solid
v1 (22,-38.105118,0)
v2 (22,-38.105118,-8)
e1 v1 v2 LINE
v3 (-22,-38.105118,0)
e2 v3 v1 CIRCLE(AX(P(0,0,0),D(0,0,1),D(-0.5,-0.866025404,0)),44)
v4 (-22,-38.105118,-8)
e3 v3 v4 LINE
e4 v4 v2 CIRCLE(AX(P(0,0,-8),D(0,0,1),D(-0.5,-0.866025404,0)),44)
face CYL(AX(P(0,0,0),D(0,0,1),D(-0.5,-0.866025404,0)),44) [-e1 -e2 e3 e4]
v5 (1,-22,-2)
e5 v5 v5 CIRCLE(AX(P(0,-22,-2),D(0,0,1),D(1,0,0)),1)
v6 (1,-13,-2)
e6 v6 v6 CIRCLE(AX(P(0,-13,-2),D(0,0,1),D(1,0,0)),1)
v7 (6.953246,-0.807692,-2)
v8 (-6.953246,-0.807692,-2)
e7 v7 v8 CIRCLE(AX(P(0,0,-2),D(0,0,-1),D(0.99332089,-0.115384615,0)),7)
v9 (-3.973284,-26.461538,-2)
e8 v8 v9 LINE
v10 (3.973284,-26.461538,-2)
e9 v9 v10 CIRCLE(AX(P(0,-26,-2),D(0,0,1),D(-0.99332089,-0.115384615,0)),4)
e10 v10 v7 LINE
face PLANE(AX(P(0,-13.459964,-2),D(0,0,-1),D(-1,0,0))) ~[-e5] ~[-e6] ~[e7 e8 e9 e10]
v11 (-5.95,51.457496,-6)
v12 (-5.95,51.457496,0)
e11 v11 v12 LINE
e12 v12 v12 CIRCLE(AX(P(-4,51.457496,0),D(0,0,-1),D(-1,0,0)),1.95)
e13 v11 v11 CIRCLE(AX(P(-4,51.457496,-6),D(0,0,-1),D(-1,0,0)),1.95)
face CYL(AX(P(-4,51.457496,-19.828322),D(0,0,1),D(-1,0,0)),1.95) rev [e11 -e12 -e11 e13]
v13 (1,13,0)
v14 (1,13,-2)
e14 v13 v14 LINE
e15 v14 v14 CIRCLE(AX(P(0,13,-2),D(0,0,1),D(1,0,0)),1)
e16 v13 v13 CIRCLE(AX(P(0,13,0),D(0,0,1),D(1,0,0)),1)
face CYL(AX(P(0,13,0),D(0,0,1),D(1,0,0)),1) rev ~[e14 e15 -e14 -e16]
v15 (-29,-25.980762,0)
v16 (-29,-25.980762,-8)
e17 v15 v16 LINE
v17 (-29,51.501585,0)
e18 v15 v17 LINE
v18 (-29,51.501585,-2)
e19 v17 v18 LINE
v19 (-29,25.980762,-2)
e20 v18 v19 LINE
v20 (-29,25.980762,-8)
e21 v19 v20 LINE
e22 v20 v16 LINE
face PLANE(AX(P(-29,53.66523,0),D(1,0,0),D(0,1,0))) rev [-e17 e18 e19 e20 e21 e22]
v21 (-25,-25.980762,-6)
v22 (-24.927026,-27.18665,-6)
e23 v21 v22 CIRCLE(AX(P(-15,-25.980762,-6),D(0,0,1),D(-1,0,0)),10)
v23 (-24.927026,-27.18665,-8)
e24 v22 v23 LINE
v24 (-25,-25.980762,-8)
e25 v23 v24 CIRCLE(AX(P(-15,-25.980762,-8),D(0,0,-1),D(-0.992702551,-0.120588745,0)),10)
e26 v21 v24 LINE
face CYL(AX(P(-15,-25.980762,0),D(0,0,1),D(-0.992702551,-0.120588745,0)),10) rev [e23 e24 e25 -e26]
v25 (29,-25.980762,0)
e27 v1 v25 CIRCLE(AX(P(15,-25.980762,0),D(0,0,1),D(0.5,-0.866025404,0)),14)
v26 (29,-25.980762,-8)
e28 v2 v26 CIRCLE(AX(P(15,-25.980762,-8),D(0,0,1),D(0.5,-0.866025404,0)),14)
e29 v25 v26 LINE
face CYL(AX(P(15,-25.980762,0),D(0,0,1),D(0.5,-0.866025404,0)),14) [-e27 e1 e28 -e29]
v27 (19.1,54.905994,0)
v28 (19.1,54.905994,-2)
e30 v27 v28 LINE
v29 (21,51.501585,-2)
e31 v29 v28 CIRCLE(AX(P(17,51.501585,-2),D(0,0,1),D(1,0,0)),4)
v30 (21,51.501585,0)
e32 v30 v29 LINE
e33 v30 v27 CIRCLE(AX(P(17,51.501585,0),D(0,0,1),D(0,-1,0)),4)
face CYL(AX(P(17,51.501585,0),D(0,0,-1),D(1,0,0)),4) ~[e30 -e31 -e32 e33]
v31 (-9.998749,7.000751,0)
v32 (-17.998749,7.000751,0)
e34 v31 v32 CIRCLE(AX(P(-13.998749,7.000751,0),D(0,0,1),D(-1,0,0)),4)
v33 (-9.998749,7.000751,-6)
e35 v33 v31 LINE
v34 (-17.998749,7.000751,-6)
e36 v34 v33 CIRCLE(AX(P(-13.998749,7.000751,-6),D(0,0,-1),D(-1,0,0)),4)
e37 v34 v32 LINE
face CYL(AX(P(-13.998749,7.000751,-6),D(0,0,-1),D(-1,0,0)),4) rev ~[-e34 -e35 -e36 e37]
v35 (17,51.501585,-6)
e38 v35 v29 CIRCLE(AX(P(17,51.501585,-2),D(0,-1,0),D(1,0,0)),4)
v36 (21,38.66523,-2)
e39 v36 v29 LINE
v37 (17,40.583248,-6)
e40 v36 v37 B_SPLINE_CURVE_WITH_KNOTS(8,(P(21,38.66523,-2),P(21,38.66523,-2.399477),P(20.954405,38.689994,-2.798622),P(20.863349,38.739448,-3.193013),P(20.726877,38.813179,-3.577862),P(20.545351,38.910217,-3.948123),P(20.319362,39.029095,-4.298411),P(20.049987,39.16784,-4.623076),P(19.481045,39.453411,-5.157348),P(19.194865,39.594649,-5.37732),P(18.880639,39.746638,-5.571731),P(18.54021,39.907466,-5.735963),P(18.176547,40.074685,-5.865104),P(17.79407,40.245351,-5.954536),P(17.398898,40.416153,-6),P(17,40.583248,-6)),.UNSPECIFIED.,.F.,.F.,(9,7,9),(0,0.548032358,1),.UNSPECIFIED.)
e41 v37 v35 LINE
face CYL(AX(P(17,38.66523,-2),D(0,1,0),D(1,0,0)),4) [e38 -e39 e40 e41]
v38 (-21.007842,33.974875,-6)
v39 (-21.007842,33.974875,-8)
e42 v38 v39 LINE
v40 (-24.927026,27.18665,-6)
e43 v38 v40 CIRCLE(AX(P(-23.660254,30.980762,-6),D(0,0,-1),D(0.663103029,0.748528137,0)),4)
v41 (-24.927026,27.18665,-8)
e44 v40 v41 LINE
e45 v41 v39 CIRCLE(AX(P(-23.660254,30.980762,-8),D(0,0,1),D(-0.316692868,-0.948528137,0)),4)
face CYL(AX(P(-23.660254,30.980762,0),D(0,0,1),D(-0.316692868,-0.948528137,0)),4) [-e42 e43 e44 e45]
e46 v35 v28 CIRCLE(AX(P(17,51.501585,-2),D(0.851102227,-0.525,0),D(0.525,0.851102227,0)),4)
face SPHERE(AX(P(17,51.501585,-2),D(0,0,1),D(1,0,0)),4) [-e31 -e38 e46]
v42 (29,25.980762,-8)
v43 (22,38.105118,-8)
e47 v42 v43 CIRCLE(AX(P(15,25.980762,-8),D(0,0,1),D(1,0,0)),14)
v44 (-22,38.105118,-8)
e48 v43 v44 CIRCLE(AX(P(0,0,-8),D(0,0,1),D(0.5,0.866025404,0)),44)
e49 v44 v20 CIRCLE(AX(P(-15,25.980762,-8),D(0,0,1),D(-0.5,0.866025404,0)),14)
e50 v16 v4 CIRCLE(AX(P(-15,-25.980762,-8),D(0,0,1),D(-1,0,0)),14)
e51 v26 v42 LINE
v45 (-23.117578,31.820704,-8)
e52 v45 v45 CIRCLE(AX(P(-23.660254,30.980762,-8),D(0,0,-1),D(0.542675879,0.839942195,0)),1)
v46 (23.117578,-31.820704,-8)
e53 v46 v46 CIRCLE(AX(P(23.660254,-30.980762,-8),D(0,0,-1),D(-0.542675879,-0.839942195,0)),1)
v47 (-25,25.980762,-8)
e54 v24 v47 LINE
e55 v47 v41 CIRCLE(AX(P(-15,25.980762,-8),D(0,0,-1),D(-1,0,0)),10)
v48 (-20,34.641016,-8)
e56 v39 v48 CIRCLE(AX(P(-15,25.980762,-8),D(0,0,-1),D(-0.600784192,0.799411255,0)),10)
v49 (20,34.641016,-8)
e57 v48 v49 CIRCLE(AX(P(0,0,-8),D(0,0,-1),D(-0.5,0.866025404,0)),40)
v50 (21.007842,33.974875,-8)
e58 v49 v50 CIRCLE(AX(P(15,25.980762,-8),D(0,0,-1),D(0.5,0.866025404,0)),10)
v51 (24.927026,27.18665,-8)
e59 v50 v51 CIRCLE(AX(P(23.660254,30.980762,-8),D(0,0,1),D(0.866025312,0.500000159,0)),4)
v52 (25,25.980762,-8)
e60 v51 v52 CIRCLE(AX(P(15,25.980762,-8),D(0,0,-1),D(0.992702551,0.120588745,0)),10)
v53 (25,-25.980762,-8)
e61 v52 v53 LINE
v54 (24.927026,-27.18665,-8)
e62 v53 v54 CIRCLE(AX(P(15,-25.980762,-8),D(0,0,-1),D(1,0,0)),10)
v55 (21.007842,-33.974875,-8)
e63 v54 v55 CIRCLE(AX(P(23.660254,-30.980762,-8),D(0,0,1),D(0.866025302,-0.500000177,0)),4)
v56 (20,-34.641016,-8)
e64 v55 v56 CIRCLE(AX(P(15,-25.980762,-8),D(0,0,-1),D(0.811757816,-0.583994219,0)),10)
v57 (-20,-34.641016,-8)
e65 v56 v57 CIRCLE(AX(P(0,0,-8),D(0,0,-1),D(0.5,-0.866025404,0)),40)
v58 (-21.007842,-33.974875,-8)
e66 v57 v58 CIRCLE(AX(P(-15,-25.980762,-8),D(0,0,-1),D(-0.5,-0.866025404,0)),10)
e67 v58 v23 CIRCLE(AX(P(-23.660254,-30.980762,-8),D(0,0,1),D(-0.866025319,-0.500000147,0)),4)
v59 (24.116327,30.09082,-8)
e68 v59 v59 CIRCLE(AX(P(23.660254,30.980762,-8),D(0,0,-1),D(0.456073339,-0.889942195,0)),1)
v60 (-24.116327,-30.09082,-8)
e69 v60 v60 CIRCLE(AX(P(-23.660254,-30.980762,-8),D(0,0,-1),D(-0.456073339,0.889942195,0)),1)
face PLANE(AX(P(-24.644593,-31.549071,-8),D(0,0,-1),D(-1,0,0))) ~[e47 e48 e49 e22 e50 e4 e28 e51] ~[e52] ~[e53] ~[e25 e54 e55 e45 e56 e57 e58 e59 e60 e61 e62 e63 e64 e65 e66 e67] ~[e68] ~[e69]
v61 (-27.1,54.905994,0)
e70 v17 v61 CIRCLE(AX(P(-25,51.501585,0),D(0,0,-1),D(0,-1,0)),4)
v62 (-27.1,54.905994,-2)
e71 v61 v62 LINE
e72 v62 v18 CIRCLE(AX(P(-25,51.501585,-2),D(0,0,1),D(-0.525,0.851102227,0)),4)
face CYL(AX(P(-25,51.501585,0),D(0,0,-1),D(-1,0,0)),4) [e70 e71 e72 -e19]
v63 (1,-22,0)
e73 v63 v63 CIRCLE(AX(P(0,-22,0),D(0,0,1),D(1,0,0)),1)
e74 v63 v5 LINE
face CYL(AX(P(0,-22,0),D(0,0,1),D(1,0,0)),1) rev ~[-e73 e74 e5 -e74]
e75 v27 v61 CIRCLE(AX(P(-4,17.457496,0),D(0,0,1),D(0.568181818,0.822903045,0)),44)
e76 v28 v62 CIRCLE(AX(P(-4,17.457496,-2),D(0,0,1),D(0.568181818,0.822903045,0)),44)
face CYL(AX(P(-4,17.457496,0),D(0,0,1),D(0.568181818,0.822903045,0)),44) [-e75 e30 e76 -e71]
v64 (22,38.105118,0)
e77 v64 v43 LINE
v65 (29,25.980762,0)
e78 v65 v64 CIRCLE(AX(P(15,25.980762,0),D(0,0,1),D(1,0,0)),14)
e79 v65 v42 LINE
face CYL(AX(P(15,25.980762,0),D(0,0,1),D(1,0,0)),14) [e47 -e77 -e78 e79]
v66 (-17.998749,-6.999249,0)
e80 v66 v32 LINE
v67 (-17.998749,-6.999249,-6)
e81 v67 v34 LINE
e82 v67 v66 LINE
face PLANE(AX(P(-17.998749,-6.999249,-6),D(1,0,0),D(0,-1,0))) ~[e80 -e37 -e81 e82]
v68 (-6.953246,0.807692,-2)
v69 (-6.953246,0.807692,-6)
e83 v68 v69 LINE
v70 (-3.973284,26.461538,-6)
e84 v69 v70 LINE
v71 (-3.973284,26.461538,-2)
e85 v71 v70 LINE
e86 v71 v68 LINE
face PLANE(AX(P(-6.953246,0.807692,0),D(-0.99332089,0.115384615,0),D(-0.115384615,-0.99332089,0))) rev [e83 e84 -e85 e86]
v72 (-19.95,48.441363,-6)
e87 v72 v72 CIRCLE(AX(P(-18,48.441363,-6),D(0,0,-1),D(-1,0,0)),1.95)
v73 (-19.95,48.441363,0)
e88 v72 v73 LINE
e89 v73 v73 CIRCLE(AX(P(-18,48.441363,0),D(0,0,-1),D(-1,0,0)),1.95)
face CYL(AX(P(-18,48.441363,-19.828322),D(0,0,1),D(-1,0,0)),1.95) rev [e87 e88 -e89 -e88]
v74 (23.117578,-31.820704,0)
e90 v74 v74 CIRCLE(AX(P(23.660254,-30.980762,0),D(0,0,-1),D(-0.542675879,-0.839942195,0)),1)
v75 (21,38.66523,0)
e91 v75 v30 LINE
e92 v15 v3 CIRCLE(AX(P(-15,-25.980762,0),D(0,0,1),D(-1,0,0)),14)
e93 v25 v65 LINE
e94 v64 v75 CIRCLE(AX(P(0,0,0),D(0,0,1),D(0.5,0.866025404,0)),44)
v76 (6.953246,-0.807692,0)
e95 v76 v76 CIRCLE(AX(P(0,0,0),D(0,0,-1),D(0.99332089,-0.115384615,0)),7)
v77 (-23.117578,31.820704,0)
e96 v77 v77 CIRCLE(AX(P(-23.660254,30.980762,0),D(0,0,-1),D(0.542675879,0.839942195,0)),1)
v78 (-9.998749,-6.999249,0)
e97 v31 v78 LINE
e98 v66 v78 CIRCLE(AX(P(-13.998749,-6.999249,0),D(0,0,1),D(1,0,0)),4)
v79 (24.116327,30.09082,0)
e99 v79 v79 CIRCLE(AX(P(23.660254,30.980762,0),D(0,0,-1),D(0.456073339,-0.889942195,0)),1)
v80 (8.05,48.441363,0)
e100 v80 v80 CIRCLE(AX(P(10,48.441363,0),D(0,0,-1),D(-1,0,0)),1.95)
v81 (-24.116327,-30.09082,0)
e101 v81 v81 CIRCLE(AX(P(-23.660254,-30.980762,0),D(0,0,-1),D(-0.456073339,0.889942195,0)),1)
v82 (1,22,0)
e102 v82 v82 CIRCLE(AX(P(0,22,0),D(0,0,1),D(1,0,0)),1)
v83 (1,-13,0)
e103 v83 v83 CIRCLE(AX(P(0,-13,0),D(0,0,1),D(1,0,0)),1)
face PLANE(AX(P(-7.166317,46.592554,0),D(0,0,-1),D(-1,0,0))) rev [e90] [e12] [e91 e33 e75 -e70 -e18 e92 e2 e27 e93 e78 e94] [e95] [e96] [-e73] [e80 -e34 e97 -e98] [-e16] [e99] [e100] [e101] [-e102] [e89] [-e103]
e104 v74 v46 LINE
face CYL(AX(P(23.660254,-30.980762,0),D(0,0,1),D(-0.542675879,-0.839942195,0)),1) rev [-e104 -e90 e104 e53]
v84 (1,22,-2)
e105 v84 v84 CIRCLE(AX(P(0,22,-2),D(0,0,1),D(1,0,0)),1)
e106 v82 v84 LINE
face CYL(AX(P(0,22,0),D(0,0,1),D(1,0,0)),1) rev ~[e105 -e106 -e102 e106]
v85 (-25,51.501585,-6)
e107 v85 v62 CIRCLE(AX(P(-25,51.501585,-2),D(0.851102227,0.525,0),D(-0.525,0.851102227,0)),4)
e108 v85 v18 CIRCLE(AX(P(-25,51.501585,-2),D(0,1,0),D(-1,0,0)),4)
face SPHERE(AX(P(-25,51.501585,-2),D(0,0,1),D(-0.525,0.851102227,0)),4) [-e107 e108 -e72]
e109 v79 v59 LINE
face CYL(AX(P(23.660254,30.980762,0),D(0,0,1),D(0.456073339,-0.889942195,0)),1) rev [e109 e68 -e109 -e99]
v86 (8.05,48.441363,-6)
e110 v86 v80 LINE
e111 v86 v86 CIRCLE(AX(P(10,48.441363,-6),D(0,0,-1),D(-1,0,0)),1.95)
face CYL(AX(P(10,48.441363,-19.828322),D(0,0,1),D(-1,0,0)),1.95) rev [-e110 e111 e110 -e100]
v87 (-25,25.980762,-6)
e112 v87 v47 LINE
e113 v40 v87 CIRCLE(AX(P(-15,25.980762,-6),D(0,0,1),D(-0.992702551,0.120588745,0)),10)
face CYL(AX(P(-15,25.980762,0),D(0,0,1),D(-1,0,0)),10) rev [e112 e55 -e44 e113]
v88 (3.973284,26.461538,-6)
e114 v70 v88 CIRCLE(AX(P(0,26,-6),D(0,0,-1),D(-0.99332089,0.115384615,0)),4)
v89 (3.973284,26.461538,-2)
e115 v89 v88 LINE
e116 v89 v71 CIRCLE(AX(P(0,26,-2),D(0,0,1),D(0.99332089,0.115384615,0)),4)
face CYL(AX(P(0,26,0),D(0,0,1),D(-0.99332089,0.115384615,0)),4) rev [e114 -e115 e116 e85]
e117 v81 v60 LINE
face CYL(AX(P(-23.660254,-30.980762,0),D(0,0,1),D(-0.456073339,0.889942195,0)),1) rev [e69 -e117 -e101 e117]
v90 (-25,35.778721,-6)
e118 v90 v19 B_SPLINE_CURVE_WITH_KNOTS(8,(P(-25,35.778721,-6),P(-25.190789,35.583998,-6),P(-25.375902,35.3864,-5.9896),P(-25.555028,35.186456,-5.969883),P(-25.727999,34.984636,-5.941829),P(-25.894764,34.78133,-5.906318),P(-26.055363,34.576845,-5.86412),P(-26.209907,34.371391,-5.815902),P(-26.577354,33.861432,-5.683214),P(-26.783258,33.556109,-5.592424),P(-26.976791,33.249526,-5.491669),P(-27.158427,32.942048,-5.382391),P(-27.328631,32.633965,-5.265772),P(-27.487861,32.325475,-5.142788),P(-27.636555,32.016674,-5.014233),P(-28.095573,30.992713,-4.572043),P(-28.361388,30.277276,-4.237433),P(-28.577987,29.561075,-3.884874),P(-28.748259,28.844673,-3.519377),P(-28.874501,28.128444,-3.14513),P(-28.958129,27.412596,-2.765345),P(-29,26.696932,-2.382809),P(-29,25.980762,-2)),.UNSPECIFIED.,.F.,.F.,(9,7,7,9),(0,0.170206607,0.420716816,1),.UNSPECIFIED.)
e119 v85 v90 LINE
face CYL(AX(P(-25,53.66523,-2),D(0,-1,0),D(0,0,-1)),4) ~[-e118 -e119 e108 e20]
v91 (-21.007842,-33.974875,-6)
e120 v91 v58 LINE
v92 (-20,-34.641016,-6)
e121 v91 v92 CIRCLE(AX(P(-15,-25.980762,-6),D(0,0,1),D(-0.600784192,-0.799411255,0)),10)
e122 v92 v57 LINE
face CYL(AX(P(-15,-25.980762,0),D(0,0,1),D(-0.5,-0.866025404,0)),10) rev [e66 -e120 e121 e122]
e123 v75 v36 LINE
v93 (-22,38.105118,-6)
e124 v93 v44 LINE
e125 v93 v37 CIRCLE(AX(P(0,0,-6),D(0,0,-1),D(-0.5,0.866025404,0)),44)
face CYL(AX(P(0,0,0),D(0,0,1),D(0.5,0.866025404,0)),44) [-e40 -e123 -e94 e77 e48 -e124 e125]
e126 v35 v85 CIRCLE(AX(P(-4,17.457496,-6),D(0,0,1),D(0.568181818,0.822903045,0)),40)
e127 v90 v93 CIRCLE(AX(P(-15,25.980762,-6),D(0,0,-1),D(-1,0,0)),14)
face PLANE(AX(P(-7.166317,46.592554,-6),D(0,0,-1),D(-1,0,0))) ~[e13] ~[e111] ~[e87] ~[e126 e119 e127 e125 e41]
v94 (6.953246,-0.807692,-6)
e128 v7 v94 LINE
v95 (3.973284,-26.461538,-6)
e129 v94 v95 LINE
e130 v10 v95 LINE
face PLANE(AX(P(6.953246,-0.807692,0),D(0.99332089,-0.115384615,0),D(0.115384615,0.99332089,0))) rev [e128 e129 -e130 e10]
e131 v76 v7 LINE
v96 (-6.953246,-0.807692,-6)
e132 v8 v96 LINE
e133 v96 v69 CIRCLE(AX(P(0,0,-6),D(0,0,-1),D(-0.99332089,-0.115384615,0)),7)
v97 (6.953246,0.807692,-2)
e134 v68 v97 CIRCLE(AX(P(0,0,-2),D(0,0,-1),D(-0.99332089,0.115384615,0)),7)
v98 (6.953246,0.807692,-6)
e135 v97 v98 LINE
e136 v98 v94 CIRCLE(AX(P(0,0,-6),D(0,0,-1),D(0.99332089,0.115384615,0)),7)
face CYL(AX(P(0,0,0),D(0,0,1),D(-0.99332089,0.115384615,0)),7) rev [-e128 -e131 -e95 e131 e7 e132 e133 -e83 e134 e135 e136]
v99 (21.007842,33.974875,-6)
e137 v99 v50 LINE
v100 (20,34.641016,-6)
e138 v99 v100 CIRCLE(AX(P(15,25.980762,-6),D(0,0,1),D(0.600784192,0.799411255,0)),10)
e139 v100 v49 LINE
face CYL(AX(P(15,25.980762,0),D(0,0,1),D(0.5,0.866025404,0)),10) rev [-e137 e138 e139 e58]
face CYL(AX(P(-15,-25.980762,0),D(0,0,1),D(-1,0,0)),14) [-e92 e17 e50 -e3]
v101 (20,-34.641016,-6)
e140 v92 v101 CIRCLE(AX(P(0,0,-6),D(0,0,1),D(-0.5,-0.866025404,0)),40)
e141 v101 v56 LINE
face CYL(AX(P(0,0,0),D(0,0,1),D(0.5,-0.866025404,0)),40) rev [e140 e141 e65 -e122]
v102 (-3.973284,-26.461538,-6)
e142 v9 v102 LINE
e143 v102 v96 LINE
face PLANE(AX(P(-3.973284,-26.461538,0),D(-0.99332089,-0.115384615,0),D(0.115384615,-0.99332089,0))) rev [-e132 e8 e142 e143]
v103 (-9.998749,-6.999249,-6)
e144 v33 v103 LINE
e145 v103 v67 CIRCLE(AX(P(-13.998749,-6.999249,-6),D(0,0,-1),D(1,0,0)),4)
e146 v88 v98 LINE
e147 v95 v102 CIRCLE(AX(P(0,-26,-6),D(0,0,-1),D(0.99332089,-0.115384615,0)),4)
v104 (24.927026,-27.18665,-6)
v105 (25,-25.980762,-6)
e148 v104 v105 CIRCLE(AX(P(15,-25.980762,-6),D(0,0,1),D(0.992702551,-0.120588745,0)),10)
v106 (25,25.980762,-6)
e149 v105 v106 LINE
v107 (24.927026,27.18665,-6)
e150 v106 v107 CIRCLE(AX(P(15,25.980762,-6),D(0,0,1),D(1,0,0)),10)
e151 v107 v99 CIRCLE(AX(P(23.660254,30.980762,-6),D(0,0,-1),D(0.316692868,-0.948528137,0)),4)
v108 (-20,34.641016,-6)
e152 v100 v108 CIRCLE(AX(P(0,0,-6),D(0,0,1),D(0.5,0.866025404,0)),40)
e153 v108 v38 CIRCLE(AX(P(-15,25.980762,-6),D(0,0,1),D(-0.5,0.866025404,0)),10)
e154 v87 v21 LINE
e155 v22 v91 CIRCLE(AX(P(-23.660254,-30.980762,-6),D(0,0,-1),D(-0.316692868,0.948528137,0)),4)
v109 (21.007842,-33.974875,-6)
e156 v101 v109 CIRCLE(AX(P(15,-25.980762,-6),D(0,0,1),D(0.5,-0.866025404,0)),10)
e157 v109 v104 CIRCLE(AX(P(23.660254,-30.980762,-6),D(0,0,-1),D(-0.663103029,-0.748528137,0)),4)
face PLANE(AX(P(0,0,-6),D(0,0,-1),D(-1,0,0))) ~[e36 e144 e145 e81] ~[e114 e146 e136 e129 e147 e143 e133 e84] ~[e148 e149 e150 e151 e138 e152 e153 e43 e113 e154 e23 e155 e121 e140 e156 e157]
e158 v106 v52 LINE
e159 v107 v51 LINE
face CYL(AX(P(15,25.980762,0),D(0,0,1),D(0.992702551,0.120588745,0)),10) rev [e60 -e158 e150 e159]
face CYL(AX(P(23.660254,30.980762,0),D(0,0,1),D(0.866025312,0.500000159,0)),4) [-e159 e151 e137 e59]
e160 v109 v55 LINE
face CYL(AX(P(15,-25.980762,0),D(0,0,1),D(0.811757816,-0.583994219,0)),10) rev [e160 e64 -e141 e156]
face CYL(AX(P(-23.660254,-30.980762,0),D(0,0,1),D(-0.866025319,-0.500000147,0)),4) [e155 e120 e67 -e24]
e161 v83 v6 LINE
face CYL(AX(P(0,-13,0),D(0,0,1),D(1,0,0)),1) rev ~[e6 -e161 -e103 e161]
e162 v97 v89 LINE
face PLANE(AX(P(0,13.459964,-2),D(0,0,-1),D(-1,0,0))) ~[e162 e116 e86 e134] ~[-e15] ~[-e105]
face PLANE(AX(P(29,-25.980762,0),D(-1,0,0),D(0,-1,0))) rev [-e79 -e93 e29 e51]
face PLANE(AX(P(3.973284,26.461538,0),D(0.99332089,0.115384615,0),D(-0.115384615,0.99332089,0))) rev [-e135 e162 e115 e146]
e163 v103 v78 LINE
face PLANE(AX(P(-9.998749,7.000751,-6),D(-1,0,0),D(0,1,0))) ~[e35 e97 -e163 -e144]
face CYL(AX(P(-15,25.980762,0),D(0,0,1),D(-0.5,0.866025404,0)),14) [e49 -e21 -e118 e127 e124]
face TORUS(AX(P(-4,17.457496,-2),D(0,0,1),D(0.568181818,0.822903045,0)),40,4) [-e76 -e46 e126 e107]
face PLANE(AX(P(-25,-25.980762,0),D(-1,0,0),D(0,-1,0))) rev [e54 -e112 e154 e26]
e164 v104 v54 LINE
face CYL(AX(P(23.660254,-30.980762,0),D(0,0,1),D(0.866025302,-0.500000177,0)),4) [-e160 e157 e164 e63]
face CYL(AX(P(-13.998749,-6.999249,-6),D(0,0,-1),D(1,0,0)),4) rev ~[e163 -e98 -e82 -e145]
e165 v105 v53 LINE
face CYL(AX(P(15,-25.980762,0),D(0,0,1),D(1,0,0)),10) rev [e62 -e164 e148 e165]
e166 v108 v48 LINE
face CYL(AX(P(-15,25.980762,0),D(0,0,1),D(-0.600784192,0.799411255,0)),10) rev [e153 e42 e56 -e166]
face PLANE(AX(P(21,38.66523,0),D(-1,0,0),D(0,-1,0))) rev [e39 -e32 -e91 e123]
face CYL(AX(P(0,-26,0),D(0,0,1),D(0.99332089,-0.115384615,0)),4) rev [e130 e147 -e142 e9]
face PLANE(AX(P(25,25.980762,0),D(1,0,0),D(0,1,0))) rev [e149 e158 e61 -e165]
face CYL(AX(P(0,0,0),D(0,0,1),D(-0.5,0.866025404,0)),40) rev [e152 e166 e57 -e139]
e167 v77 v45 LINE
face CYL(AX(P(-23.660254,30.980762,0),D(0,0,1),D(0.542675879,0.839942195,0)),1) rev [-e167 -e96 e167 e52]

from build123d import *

# Parameters (mm, degrees)
EXTRUDE_1_DEPTH         = 6
SKETCH_1_3_R            = 1.0000000000000007
SKETCH_1_3_R_2          = 1.0000000000000009
EXTRUDE_2_DEPTH         = 2
SKETCH_1_4_R            = 1.0000000000000024
SKETCH_1_4_R_2          = 1.0000000000000022
SKETCH_1_4_R_3          = 0.9999999999999966
SKETCH_1_4_R_4          = 1.0000000000000009
EXTRUDE_3_DEPTH         = 8
CUT_EXTRUDE_1_DEPTH     = 54.0377224247045
EXTRUDE_4_DEPTH         = 6
FILLET_2_R              = 4
HOLE_WIZARD_M3_51_D     = 3.9
HOLE_WIZARD_M3_51_DEPTH = 13.828321793
HOLE_WIZARD_M3_51_TIP   = 1.1716782071037426


with BuildPart() as part:
    # Эскиз1 → Бобышка-Вытянуть1 (new body)
    with BuildSketch(Plane.XY):
        with BuildLine():
            Line((25.000000000000007, -25.98076211353316), (25.000000000000007, 25.980762113533153))
            ThreePointArc((25.000000000000007, 25.980762113533153), (24.981739705342804, 26.584808845817278), (24.927025509043382, 27.186649563837758))
            ThreePointArc((24.927025509043485, 27.18664956383775), (20.196152422706675, 28.98076211353309), (21.007841920590277, 33.974874663228555))
            ThreePointArc((21.007841920590295, 33.97487466322859), (20.513989667902422, 34.32317890618177), (20.000000000000014, 34.64101615137754))
            ThreePointArc((20.000000000000014, 34.64101615137754), (0, 40.00000000000001), (-20.000000000000018, 34.64101615137754))
            ThreePointArc((-20.000000000000014, 34.64101615137754), (-20.513989667902425, 34.32317890618177), (-21.0078419205903, 33.97487466322859))
            ThreePointArc((-21.00784192059028, 33.97487466322856), (-20.01267617924998, 32.62246116192532), (-19.660254037844396, 30.98076211353315))
            ThreePointArc((-19.660254037844396, 30.98076211353315), (-21.322208474216062, 27.735220102959588), (-24.92702550904333, 27.186649563837697))
            ThreePointArc((-24.92702550904339, 27.186649563837694), (-24.981739705342804, 26.584808845817246), (-25.000000000000007, 25.980762113533153))
            Line((-25.000000000000007, 25.980762113533153), (-25.000000000000007, -25.98076211353316))
            ThreePointArc((-25.000000000000007, -25.98076211353316), (-24.981739705342804, -26.584808845817253), (-24.92702550904339, -27.1866495638377))
            ThreePointArc((-24.927025509043325, -27.186649563837705), (-21.322208474216055, -27.735220102959595), (-19.66025403784439, -30.980762113533157))
            ThreePointArc((-19.66025403784439, -30.980762113533157), (-20.012676179249972, -32.62246116192533), (-21.007841920590273, -33.97487466322856))
            ThreePointArc((-21.007841920590288, -33.9748746632286), (-20.51398966790242, -34.32317890618177), (-20.00000000000001, -34.64101615137754))
            ThreePointArc((-20.00000000000001, -34.64101615137754), (8.9e-16, -40), (20.000000000000014, -34.64101615137754))
            ThreePointArc((20.00000000000001, -34.64101615137754), (20.51398966790242, -34.32317890618177), (21.007841920590288, -33.9748746632286))
            ThreePointArc((21.007841920590277, -33.97487466322857), (20.19615242270667, -28.980762113533096), (24.92702550904349, -27.18664956383776))
            ThreePointArc((24.927025509043382, -27.186649563837765), (24.981739705342804, -26.584808845817285), (25.000000000000007, -25.98076211353316))
        make_face()
        with BuildLine():
            ThreePointArc((-6.953246230078051, -0.8076923076923074), (-6.9999999999999964, -8e-17), (-6.953246230078052, 0.8076923076923072))
            Line((-6.953246230078053, 0.8076923076923073), (-3.9732835600445995, 26.46153846153846))
            ThreePointArc((-3.9732835600445995, 26.46153846153846), (1.61e-15, 30), (3.973283560044602, 26.46153846153846))
            Line((3.973283560044602, 26.46153846153846), (6.9532462300780535, 0.8076923076923066))
            ThreePointArc((6.9532462300780535, 0.8076923076923077), (6.988301782641701, 0.4045221807599798), (6.999999999999997, 0))
            ThreePointArc((6.999999999999997, 0), (6.988301782641701, -0.40452218075998), (6.9532462300780535, -0.8076923076923077))
            Line((6.9532462300780535, -0.8076923076923066), (3.973283560044602, -26.46153846153846))
            ThreePointArc((3.973283560044602, -26.46153846153846), (7.8e-16, -29.999999999999996), (-3.9732835600445995, -26.46153846153846))
            Line((-3.9732835600445995, -26.46153846153846), (-6.953246230078053, -0.8076923076923073))
        make_face(mode=Mode.SUBTRACT)
    extrude(amount=EXTRUDE_1_DEPTH)

    # Эскиз1<3> → Бобышка-Вытянуть2 (add)
    # profile 1 of 2: a face of its own
    with BuildSketch(Plane.XY):
        with BuildLine():
            Line((-3.9732835600445995, 26.46153846153846), (-6.953246230078053, 0.8076923076923073))
            ThreePointArc((-6.953246230078054, 0.8076923076923096), (1.98e-15, 7.000000000000001), (6.953246230078055, 0.8076923076923079))
            Line((6.9532462300780535, 0.8076923076923066), (3.973283560044602, 26.46153846153846))
            ThreePointArc((3.973283560044602, 26.46153846153846), (1.61e-15, 30), (-3.9732835600445995, 26.46153846153846))
        make_face()
        with Locations((0, 13)):
            Circle(SKETCH_1_3_R, mode=Mode.SUBTRACT)
        with Locations((0, 22)):
            Circle(SKETCH_1_3_R_2, mode=Mode.SUBTRACT)
    # profile 2 of 2: a face of its own
    with BuildSketch(Plane.XY):
        with BuildLine():
            ThreePointArc((6.953246230078054, -0.8076923076923105), (-1.29e-15, -7.000000000000001), (-6.953246230078055, -0.8076923076923079))
            Line((-6.953246230078053, -0.8076923076923073), (-3.9732835600445995, -26.46153846153846))
            ThreePointArc((-3.9732835600445995, -26.46153846153846), (7.8e-16, -29.999999999999996), (3.973283560044602, -26.46153846153846))
            Line((3.973283560044602, -26.46153846153846), (6.9532462300780535, -0.8076923076923066))
        make_face()
        with Locations((0, -22)):
            Circle(SKETCH_1_3_R_2, mode=Mode.SUBTRACT)
        with Locations((0, -13)):
            Circle(SKETCH_1_3_R, mode=Mode.SUBTRACT)
    extrude(amount=EXTRUDE_2_DEPTH)

    # Эскиз1<4> → Бобышка-Вытянуть3 (add)
    with BuildSketch(Plane.XY):
        with BuildLine():
            ThreePointArc((29.000000000000007, 25.980762113533153), (27.124355652982153, 32.98076211353315), (22.000000000000014, 38.10511776651529))
            ThreePointArc((22.000000000000014, 38.10511776651529), (-1.78e-15, 44), (-22.00000000000002, 38.10511776651529))
            ThreePointArc((-22.000000000000018, 38.10511776651529), (-27.124355652982153, 32.980762113533146), (-29.000000000000007, 25.98076211353315))
            Line((-29.000000000000007, 25.980762113533153), (-29.000000000000007, -25.98076211353316))
            ThreePointArc((-29.000000000000007, -25.98076211353316), (-27.124355652982146, -32.98076211353315), (-22.00000000000002, -38.10511776651529))
            ThreePointArc((-22.000000000000025, -38.10511776651529), (-6.22e-15, -44.00000000000001), (22.000000000000014, -38.1051177665153))
            ThreePointArc((22.000000000000014, -38.1051177665153), (27.124355652982153, -32.98076211353316), (29.00000000000001, -25.98076211353316))
            Line((29.000000000000007, -25.98076211353316), (29.00000000000001, 25.980762113533153))
        make_face()
        with BuildLine():
            ThreePointArc((24.927025509043382, 27.186649563837758), (24.981739705342804, 26.584808845817278), (25.000000000000007, 25.980762113533153))
            Line((25.000000000000007, 25.980762113533153), (25.000000000000007, -25.98076211353316))
            ThreePointArc((25.000000000000007, -25.98076211353316), (24.981739705342804, -26.584808845817285), (24.927025509043382, -27.186649563837765))
            ThreePointArc((24.92702550904349, -27.18664956383776), (20.19615242270667, -28.980762113533096), (21.007841920590277, -33.97487466322857))
            ThreePointArc((21.007841920590288, -33.9748746632286), (20.51398966790242, -34.32317890618177), (20.00000000000001, -34.64101615137754))
            ThreePointArc((20.000000000000014, -34.64101615137754), (8.9e-16, -40), (-20.00000000000001, -34.64101615137754))
            ThreePointArc((-20.00000000000001, -34.64101615137754), (-20.51398966790242, -34.32317890618177), (-21.007841920590288, -33.9748746632286))
            ThreePointArc((-21.00784192059027, -33.97487466322856), (-20.19615242270663, -28.980762113533167), (-24.927025509043325, -27.186649563837705))
            ThreePointArc((-24.92702550904339, -27.1866495638377), (-24.981739705342804, -26.584808845817253), (-25.000000000000007, -25.98076211353316))
            Line((-25.000000000000007, -25.98076211353316), (-25.000000000000007, 25.980762113533153))
            ThreePointArc((-25.000000000000007, 25.980762113533153), (-24.981739705342804, 26.584808845817246), (-24.92702550904339, 27.186649563837694))
            ThreePointArc((-24.92702550904333, 27.186649563837697), (-20.196152422706632, 28.980762113533164), (-21.00784192059028, 33.97487466322856))
            ThreePointArc((-21.0078419205903, 33.97487466322859), (-20.513989667902425, 34.32317890618177), (-20.000000000000014, 34.64101615137754))
            ThreePointArc((-20.000000000000018, 34.64101615137754), (0, 40.00000000000001), (20.000000000000014, 34.64101615137754))
            ThreePointArc((20.000000000000014, 34.64101615137754), (20.513989667902422, 34.32317890618177), (21.007841920590295, 33.97487466322859))
            ThreePointArc((21.007841920590277, 33.974874663228555), (20.196152422706675, 28.98076211353309), (24.927025509043485, 27.18664956383775))
        make_face(mode=Mode.SUBTRACT)
        with Locations((23.6602540378444, 30.98076211353315)):
            Circle(SKETCH_1_4_R, mode=Mode.SUBTRACT)
        with Locations((23.660254037844393, -30.980762113533157)):
            Circle(SKETCH_1_4_R_2, mode=Mode.SUBTRACT)
        with Locations((-23.660254037844393, 30.98076211353315)):
            Circle(SKETCH_1_4_R_3, mode=Mode.SUBTRACT)
        with Locations((-23.660254037844396, -30.98076211353316)):
            Circle(SKETCH_1_4_R_4, mode=Mode.SUBTRACT)
    extrude(amount=EXTRUDE_3_DEPTH)

    # Эскиз2 → Вырез-Вытянуть1 (cut, through all)
    with BuildSketch(Plane.XY.offset(6)):
        with BuildLine():
            Line((-17.998748741118916, -6.999248963798453), (-17.998748741118916, 7.000751036201546))
            ThreePointArc((-17.998748741118916, 7.000751036201546), (-13.99874874111892, 11.00075103620155), (-9.998748741118916, 7.0007510362015495))
            Line((-9.998748741118916, 7.0007510362015495), (-9.998748741118915, -6.999248963798453))
            ThreePointArc((-9.998748741118915, -6.999248963798453), (-13.998748741118916, -10.999248963798454), (-17.998748741118916, -6.999248963798453))
        make_face()
    extrude(amount=-CUT_EXTRUDE_1_DEPTH, mode=Mode.SUBTRACT)

    # Эскиз1<5> → Бобышка-Вытянуть4 (add)
    with BuildSketch(Plane.XY):
        with BuildLine():
            ThreePointArc((-22.00000000000002, 38.10511776651529), (-0.5730893375891295, 43.99626766682762), (21, 38.66522985836241))
            Line((20.999999999999996, 38.665229858362416), (20.999999999999986, 53.66522985836241))
            ThreePointArc((20.99999999999999, 53.665229858362416), (-4.000000000000013, 61.45749587789907), (-29.00000000000001, 53.665229858362416))
            Line((-29.000000000000007, 53.66522985836241), (-29.000000000000007, 25.980762113533153))
            ThreePointArc((-29.000000000000007, 25.980762113533153), (-28.522961473136743, 29.604229099178195), (-27.124355286277215, 32.98076274868469))
            ThreePointArc((-27.124355286277215, 32.98076274868469), (-24.89949467731214, 35.880257309444346), (-22.000000000000014, 38.10511776651529))
        make_face()
    extrude(amount=EXTRUDE_4_DEPTH)

    # Скругление2
    fillet_2_edges = [part.edges().sort_by_distance(p)[0] for p in [
        (-4.000000000000006, 61.45749587789908, 6),
        (20.999999999999993, 46.16522985836241, 6),
        (20.99999999999999, 53.665229858362416, 3),
        (-29.000000000000007, 53.665229858362416, 3),
        (-29.000000000000007, 39.822995985947784, 6),
    ]]
    fillet(fillet_2_edges, radius=FILLET_2_R)

    # Отверстие с зазором M3.51
    with Locations(Plane.XY.offset(6)):
        with Locations((-18, 48.441362648), (-4, 51.457495878), (10, 48.441362648)):
            Hole(HOLE_WIZARD_M3_51_D / 2, depth=HOLE_WIZARD_M3_51_DEPTH)
            with Locations((0, 0, -(HOLE_WIZARD_M3_51_DEPTH + HOLE_WIZARD_M3_51_TIP / 2))):  # 118° drill point
                Cone(0, HOLE_WIZARD_M3_51_D / 2, HOLE_WIZARD_M3_51_TIP, mode=Mode.SUBTRACT)


with BuildPart() as body_2:
    # Зеркальное отражение1: mirrored copy
    add(part.part.mirror(Plane.XY))


solid = body_2.part
